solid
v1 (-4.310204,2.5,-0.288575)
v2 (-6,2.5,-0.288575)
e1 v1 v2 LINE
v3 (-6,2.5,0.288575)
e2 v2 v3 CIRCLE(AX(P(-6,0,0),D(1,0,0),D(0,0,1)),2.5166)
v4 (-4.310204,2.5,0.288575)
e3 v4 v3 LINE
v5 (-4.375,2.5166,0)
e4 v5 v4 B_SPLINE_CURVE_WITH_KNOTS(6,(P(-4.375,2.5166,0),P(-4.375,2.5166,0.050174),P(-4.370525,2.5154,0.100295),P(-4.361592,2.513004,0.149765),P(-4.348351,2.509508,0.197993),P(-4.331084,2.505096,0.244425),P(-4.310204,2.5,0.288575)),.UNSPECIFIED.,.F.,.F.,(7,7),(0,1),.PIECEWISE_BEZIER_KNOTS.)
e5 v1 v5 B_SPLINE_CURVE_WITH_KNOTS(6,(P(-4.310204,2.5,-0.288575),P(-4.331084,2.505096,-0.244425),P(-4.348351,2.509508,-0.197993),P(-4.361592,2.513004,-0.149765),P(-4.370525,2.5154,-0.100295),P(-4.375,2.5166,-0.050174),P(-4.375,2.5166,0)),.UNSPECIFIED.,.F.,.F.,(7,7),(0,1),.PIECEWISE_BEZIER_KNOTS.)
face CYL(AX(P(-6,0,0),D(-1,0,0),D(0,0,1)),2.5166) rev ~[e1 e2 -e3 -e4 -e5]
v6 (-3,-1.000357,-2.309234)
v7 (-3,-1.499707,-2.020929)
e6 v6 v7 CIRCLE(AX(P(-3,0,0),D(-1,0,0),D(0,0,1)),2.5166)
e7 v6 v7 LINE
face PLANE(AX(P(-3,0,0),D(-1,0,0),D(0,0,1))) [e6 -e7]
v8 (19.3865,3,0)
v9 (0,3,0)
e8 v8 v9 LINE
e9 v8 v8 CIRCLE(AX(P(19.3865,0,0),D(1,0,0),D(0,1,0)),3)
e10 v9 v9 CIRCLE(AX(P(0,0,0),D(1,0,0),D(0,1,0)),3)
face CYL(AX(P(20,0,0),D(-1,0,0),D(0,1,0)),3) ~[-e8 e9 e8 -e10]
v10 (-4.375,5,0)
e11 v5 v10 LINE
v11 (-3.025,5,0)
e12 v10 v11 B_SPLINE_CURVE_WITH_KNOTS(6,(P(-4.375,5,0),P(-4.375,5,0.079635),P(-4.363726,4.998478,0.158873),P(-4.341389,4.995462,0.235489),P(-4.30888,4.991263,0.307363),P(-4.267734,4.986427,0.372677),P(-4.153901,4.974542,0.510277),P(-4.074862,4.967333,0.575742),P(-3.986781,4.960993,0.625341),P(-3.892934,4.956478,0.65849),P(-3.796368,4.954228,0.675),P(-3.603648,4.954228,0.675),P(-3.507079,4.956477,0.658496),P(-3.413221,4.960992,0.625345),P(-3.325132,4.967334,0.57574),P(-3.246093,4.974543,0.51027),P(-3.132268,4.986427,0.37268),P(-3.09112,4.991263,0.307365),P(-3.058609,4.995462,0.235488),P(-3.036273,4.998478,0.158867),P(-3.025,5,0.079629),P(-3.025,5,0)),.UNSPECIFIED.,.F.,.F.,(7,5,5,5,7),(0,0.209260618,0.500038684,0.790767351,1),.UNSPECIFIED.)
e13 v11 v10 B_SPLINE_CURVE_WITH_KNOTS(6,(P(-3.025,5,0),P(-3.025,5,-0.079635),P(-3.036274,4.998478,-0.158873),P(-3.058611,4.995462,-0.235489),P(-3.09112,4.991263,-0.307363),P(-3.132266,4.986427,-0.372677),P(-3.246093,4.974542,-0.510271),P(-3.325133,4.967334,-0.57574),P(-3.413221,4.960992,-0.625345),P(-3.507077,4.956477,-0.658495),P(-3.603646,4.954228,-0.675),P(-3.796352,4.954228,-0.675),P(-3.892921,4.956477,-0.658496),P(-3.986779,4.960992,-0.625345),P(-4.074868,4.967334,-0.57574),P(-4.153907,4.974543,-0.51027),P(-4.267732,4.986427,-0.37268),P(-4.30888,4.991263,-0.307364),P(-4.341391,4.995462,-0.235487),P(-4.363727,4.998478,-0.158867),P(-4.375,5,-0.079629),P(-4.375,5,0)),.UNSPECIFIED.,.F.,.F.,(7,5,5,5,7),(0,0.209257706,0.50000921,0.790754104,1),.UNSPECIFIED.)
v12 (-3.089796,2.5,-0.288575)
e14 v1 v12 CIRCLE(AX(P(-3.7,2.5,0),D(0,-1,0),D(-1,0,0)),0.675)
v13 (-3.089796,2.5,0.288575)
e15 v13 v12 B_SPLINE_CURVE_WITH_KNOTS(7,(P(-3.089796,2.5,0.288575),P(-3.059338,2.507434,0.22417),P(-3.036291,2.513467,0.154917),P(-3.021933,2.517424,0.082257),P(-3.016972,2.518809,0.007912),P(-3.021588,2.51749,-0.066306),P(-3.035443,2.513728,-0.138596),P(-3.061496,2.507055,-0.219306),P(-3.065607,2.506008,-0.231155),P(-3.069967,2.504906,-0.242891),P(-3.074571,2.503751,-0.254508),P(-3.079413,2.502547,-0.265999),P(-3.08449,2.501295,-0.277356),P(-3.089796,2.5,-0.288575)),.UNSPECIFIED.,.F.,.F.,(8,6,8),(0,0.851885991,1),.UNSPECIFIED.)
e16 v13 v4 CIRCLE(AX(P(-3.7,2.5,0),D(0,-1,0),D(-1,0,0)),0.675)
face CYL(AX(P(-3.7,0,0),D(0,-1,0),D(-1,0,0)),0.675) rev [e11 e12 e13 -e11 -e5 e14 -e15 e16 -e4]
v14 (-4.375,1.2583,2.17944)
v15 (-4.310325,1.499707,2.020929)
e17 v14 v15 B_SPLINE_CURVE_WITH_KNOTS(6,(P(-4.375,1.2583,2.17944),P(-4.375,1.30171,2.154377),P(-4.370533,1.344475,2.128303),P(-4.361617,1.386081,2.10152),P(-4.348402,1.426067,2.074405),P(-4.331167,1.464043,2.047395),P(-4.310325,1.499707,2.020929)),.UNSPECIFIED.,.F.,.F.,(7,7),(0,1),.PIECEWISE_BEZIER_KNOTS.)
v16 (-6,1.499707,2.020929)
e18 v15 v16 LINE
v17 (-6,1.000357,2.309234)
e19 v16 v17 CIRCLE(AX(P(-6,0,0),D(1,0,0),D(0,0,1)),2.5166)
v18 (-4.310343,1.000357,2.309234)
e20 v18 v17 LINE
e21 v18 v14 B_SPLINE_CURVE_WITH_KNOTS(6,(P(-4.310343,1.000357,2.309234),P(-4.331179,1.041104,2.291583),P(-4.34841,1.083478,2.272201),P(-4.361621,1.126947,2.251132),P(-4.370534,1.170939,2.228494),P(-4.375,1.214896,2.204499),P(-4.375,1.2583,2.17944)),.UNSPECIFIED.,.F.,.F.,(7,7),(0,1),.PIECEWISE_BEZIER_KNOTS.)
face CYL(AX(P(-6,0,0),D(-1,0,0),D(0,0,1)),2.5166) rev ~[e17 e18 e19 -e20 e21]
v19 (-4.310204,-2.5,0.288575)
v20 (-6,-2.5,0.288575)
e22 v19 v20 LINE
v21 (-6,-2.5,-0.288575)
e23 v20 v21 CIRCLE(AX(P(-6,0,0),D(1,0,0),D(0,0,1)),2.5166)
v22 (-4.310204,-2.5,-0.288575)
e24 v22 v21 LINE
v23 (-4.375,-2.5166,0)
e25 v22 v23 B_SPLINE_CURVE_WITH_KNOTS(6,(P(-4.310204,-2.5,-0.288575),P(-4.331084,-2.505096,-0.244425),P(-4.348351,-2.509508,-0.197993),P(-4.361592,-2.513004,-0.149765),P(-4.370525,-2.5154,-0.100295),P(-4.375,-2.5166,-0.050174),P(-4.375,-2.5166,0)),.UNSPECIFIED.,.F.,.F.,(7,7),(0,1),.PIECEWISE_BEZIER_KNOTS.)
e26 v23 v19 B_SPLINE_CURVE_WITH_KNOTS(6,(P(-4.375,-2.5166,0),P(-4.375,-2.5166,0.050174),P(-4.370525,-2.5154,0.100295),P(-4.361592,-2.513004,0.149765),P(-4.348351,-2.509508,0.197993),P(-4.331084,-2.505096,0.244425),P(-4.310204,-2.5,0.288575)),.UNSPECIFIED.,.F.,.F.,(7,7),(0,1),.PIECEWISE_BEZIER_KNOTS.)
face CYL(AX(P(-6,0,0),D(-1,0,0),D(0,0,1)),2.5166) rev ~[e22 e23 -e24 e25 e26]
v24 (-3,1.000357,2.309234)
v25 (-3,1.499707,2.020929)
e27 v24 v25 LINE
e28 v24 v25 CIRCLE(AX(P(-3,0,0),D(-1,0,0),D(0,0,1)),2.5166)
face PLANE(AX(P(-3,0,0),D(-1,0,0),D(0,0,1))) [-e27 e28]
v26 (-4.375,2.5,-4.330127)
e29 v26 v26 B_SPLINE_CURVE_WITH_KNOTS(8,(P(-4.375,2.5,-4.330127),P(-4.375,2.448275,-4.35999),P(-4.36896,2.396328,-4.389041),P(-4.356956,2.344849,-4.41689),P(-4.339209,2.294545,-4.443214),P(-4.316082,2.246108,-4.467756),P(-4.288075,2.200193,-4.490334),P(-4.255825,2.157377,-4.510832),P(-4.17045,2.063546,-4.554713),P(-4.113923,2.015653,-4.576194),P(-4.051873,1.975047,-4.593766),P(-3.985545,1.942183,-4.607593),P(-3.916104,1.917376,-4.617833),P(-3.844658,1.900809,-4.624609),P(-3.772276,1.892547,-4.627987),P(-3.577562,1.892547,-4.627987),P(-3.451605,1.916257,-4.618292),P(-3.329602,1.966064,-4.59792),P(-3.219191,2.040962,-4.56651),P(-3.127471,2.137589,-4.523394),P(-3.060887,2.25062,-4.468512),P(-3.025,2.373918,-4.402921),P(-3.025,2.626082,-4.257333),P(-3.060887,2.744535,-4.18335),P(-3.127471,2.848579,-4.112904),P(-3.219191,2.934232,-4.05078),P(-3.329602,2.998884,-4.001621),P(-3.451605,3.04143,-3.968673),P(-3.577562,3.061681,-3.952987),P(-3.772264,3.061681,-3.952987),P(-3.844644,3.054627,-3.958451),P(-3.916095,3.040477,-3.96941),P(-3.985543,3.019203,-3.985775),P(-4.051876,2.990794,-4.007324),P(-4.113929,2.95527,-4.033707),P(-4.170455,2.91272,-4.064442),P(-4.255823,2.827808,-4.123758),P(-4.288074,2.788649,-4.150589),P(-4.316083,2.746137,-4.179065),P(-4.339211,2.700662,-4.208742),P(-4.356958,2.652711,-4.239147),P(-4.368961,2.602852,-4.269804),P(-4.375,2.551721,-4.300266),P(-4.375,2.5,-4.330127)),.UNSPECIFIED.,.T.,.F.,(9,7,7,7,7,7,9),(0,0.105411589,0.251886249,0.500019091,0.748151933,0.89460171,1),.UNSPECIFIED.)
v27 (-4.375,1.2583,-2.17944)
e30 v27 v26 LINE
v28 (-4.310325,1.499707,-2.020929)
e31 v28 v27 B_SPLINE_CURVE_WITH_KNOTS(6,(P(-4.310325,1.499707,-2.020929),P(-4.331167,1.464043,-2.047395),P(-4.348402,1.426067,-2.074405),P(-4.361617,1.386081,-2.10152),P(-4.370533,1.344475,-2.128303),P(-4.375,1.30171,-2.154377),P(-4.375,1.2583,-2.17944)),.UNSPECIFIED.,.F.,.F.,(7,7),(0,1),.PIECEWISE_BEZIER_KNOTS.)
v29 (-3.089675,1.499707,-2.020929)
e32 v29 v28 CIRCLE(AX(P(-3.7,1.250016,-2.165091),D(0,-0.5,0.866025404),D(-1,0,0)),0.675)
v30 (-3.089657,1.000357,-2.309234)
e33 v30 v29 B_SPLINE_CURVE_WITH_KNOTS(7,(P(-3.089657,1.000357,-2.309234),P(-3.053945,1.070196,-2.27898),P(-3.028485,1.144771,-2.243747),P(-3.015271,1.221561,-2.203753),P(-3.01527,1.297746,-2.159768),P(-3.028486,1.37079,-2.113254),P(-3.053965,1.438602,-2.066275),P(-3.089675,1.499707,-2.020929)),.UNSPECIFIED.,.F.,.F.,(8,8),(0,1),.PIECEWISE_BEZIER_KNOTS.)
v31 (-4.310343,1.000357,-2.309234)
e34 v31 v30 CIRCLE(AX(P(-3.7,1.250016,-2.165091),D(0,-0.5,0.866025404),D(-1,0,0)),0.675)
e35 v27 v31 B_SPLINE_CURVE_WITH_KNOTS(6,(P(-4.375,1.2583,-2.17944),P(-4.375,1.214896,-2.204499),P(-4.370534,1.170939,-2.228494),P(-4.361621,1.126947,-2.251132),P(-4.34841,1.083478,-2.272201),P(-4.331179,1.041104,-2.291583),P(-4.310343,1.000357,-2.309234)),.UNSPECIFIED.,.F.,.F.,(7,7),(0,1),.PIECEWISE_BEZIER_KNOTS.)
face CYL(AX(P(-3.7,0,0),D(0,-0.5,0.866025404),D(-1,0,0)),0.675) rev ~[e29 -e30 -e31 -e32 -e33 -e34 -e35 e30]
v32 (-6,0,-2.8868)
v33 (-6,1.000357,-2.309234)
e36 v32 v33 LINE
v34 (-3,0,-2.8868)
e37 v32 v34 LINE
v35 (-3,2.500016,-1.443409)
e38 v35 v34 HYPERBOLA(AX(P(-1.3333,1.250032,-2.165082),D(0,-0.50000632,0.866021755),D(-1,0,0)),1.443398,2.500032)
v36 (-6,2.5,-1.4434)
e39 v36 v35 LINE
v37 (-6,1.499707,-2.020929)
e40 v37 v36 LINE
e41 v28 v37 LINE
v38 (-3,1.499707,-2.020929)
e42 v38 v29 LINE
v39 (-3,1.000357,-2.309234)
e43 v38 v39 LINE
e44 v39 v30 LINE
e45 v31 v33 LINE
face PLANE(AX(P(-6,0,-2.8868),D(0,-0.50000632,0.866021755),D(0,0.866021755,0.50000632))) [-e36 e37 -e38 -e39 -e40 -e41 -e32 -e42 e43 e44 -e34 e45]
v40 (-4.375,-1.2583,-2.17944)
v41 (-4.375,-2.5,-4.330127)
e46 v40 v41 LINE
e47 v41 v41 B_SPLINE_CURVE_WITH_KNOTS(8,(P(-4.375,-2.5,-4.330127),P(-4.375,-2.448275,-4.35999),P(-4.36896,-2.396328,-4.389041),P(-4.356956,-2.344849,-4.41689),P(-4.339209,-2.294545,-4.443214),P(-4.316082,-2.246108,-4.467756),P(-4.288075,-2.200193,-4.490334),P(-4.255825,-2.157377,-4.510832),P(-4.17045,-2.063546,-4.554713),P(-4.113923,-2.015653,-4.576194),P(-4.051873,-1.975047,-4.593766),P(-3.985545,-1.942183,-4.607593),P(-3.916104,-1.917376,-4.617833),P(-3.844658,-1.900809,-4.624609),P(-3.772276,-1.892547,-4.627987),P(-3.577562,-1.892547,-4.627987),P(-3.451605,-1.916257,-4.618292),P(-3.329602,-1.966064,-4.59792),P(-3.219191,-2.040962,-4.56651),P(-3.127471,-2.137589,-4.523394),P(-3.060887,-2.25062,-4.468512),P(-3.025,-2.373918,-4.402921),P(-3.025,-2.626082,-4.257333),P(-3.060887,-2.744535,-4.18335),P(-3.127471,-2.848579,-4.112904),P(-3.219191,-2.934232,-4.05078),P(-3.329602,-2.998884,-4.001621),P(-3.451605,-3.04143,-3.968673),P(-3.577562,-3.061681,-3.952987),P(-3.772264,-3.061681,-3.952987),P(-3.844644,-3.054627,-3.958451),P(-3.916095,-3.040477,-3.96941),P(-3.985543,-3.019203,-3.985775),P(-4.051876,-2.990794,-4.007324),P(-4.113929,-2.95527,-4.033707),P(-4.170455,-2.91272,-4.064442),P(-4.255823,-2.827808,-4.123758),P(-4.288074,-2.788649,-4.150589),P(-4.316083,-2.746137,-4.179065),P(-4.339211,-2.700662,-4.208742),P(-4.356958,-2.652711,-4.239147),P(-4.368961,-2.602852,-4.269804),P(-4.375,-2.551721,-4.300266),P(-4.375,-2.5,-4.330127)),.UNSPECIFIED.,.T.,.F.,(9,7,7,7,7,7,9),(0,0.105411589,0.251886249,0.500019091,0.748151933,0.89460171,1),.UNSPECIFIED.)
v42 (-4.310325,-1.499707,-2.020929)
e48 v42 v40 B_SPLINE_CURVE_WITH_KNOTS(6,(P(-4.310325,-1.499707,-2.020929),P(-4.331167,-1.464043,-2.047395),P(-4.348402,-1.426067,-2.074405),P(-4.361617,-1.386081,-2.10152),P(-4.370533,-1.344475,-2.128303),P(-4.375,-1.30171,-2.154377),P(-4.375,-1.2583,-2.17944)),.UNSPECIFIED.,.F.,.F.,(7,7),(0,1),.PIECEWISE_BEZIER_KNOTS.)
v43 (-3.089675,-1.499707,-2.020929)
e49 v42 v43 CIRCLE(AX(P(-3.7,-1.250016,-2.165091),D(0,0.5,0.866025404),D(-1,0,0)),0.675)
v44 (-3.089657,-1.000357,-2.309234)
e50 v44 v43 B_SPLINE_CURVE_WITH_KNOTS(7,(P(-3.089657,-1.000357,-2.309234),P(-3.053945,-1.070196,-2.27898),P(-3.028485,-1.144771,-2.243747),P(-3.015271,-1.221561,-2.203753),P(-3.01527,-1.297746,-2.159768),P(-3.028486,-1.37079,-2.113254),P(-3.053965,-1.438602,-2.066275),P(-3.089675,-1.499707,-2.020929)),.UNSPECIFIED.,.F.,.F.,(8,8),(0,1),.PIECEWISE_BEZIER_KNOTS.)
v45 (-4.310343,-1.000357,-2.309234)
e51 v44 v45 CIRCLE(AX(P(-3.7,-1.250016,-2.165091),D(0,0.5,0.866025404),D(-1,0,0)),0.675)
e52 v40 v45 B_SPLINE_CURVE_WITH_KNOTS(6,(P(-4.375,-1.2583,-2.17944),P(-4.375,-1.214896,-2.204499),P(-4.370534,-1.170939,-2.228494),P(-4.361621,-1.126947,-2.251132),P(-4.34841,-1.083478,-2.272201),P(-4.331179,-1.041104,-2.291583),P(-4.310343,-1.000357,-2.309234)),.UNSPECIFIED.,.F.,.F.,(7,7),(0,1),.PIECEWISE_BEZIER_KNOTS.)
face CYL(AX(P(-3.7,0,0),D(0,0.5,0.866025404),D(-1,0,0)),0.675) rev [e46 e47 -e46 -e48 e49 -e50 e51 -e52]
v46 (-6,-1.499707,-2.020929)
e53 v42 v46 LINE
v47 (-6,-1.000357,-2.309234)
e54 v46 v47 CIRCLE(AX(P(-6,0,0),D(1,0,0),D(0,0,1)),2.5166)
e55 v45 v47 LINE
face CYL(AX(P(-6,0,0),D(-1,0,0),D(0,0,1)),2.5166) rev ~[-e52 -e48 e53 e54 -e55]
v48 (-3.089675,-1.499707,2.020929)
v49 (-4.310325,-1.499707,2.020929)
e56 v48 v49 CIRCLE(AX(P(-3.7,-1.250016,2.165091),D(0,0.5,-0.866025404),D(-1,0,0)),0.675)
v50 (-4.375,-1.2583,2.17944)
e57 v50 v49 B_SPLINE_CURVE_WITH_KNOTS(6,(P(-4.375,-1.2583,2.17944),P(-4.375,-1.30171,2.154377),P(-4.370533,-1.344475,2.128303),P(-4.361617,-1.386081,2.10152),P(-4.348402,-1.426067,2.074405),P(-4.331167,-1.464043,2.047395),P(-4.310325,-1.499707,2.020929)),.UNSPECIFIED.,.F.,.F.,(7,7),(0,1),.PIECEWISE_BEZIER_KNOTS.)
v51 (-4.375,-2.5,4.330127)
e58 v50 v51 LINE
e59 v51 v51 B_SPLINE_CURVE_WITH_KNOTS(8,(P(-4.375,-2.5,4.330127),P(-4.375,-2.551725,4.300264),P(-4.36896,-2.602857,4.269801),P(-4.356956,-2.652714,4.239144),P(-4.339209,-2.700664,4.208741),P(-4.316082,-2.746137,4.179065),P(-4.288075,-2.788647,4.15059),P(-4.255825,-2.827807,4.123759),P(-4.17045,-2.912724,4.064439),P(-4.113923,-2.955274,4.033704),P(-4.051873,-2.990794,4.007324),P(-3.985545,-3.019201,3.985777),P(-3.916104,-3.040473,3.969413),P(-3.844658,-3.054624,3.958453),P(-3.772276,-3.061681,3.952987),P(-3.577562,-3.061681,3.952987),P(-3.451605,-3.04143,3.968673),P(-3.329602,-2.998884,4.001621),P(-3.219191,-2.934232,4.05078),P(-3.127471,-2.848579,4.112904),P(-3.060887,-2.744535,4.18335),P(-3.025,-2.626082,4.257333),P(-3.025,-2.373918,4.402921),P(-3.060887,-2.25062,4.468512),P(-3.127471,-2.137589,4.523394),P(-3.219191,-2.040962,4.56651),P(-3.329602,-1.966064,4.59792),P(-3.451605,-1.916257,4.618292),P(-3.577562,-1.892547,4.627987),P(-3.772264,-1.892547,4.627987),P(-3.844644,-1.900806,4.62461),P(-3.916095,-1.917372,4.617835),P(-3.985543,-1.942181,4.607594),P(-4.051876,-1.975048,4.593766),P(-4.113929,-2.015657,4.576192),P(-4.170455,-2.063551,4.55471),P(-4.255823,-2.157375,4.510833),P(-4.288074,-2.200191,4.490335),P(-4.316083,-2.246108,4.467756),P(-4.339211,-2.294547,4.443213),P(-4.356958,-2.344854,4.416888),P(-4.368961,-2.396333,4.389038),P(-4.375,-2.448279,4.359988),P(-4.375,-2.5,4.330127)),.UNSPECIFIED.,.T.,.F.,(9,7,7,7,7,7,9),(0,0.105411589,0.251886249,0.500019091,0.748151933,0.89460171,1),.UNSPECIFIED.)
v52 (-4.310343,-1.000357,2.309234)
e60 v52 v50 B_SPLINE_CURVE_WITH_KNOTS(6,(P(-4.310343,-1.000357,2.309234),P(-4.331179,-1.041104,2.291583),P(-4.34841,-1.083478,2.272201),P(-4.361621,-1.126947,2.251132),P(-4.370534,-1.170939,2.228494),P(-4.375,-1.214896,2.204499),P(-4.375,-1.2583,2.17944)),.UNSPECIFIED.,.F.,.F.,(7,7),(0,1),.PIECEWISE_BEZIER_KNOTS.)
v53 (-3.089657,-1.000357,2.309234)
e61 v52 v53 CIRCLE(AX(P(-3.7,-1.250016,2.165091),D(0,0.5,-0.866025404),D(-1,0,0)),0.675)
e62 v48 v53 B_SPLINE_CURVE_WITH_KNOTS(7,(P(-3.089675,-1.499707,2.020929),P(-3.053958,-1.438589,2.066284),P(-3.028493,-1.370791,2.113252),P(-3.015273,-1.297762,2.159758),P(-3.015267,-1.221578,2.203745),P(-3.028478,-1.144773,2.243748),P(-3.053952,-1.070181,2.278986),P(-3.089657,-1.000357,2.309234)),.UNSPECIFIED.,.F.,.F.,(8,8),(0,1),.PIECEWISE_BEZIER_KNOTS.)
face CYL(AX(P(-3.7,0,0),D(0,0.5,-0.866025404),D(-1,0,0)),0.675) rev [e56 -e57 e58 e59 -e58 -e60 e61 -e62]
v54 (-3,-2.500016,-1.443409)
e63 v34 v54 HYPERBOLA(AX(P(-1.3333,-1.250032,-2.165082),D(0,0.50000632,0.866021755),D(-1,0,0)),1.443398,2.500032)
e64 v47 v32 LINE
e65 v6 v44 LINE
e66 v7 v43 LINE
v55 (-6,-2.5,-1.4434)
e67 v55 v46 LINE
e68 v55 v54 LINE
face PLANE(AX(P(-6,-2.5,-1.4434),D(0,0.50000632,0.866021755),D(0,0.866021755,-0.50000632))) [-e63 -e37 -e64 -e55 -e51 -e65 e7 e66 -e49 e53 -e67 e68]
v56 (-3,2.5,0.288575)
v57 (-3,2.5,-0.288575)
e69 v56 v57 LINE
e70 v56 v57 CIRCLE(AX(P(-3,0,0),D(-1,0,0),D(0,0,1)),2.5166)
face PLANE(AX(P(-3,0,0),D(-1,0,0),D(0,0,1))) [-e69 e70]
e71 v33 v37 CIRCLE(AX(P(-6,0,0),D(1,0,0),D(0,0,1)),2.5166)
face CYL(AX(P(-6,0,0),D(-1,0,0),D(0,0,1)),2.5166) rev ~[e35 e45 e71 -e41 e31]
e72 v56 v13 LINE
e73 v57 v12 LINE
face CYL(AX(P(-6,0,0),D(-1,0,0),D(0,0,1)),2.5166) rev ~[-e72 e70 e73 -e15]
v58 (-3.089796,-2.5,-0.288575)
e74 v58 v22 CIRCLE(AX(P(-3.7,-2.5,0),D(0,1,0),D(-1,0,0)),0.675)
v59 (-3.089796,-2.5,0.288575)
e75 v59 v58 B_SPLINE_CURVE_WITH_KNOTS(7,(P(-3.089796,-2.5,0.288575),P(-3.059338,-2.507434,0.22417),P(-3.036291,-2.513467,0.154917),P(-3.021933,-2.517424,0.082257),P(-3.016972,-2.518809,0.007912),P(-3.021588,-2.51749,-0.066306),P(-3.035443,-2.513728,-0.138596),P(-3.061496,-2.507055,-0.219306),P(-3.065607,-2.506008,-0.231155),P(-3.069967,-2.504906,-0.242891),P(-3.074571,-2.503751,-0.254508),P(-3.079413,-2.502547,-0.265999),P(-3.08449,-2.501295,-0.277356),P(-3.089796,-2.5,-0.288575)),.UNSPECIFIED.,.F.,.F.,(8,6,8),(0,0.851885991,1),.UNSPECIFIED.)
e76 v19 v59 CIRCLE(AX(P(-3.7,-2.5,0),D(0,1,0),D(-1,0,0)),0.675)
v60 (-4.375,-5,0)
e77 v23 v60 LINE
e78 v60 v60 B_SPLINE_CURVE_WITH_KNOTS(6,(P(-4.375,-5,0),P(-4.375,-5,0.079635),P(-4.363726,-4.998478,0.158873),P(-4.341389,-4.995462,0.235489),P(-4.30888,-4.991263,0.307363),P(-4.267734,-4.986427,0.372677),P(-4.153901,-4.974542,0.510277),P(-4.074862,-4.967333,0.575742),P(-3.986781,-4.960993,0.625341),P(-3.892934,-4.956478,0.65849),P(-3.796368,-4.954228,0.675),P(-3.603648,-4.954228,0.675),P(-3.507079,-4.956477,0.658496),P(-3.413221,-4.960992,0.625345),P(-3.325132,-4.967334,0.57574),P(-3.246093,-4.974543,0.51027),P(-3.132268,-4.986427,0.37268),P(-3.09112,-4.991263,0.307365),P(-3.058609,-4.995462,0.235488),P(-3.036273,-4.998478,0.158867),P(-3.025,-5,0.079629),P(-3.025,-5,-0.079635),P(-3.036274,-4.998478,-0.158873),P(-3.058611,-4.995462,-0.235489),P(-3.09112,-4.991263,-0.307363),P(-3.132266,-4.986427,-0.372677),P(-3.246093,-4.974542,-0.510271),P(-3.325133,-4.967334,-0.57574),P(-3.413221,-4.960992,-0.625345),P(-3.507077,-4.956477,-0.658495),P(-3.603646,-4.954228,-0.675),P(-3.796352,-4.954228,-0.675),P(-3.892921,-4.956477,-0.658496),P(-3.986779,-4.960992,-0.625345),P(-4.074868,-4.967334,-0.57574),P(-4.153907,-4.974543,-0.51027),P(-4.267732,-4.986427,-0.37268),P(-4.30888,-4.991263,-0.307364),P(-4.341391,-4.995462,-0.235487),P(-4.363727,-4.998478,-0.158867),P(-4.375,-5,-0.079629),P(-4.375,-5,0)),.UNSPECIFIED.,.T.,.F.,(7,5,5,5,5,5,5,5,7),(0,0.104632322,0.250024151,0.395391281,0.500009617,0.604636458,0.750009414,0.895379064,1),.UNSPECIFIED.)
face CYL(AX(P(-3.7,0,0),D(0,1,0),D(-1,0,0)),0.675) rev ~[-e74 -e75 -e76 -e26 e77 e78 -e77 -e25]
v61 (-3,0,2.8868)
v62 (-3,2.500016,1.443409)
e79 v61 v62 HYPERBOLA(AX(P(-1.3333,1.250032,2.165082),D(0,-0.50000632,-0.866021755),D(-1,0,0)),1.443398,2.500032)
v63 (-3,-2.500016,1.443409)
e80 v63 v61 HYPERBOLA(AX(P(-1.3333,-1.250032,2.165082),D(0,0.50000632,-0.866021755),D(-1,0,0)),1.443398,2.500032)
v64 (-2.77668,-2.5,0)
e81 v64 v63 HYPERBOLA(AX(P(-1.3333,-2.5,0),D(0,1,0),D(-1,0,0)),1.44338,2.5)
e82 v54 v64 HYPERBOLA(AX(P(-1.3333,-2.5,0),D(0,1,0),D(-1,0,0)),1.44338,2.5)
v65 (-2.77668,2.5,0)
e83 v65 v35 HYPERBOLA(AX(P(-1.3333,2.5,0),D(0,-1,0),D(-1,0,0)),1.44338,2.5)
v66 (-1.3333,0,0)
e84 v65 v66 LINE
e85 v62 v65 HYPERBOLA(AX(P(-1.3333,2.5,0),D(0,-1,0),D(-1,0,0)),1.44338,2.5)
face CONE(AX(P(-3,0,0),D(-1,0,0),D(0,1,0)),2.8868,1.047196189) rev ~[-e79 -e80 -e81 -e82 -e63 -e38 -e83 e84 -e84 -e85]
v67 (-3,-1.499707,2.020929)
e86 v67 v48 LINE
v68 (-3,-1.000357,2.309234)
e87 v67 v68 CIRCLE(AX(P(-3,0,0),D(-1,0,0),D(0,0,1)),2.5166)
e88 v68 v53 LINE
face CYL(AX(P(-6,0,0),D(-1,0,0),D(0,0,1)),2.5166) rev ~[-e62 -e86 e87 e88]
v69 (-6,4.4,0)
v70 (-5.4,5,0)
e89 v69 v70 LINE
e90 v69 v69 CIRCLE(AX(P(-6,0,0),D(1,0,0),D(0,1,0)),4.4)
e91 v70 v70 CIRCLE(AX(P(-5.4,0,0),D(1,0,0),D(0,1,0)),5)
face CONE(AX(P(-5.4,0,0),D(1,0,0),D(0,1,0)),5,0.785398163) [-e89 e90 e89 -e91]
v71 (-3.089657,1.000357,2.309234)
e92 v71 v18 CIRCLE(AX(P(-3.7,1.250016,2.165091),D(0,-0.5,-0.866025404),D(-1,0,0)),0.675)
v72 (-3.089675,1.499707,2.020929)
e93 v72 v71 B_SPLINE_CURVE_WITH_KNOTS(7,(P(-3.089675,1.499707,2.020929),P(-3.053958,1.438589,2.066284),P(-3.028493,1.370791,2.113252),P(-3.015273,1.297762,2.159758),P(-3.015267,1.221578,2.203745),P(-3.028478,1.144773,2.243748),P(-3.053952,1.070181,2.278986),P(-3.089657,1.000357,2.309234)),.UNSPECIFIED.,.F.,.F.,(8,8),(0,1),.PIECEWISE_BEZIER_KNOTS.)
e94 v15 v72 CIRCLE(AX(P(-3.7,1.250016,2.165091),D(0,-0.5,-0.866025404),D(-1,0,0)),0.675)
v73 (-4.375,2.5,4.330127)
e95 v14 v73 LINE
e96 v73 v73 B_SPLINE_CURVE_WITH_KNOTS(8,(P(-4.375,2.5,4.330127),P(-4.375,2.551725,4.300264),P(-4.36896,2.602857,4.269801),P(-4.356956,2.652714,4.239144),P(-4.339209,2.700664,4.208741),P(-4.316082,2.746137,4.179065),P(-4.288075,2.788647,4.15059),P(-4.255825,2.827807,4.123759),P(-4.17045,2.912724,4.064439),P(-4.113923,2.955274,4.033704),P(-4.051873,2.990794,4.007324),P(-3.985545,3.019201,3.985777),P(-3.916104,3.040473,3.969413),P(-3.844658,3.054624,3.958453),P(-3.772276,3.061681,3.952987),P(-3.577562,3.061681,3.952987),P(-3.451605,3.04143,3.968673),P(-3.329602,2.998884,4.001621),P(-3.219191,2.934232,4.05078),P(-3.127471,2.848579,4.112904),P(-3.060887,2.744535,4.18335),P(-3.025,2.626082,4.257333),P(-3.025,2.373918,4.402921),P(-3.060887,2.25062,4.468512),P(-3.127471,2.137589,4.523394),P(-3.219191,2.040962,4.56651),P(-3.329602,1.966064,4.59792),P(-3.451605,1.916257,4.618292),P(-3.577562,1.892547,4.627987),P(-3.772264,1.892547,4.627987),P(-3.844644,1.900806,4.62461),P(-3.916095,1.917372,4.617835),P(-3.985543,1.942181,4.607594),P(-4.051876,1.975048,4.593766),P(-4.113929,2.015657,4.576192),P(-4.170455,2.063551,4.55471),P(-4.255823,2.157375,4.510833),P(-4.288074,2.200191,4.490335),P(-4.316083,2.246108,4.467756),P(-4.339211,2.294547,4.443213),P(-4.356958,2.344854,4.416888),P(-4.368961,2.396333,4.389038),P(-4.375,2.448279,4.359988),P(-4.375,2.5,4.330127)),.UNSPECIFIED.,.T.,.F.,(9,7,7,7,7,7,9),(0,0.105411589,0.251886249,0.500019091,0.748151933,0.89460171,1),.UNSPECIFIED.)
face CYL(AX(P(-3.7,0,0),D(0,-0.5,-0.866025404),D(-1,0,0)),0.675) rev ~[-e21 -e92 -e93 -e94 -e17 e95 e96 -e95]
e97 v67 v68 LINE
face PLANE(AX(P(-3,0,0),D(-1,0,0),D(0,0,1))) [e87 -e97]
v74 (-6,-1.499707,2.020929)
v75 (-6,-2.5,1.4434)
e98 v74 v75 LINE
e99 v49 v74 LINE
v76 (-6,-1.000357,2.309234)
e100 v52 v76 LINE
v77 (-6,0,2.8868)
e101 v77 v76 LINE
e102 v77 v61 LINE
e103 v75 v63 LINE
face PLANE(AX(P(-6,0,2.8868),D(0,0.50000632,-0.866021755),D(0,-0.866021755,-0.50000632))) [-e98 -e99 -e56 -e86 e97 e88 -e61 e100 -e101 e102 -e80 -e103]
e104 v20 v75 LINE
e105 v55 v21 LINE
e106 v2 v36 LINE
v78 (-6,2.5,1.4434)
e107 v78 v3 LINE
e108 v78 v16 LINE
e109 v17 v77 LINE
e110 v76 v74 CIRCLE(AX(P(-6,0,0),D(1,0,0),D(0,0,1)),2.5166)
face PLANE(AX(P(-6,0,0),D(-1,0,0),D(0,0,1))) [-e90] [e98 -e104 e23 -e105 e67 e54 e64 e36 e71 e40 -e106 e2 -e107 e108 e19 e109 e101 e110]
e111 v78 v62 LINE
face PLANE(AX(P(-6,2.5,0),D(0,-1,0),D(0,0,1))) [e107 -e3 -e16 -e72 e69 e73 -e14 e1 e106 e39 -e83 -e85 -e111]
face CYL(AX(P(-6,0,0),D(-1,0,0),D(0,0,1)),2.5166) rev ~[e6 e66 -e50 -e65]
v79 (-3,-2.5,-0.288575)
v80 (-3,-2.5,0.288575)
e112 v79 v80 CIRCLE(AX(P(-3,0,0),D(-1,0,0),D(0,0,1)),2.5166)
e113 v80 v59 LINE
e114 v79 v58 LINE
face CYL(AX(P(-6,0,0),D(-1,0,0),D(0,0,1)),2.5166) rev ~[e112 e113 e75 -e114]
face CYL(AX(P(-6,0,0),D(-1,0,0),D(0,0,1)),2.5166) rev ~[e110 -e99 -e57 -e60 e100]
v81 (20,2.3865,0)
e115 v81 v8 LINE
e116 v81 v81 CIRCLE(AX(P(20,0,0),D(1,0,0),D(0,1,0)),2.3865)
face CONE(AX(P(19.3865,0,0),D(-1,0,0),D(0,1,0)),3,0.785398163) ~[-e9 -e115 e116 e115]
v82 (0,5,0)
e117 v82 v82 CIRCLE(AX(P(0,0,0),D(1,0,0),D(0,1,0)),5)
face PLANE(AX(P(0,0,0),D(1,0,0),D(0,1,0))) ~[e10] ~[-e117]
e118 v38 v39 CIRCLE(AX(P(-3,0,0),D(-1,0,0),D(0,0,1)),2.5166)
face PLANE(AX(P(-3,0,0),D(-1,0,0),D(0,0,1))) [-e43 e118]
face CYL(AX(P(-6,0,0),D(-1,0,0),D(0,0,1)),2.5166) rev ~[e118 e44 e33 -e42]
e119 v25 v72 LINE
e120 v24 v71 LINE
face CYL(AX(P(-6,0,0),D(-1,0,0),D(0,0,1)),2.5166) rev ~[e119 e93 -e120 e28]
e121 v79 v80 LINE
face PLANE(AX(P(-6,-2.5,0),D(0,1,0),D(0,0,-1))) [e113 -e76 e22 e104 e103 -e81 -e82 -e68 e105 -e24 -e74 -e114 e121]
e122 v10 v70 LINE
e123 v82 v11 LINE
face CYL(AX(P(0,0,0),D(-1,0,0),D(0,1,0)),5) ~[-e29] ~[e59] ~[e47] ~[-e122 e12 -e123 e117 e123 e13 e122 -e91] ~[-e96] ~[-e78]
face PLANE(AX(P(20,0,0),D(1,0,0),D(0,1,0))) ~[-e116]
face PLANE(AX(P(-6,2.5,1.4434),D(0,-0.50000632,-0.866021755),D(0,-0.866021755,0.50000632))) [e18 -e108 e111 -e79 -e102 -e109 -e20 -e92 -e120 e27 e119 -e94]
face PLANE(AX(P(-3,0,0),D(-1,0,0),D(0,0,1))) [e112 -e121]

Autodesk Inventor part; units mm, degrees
ref_plane "YZ Plane" through (0, 0, 0) normal (1, 0, 0) x (0, 1, 0)
ref_plane "XZ Plane" through (0, 0, 0) normal (0, 1, 0) x (-1, 0, 0)
sketch "Sketch1" plane through (0, 0, 0) normal (0, 0, 1) x (1, 0, 0)
  line L0 (-1.3333, 0) -> (20, 0)
  line L1 (20, 0) -> (20, 3)
  line L2 (20, 3) -> (0, 3)
  line L3 (0, 3) -> (0, 5)
  line L4 (0, 5) -> (-6, 5)
  line L5 (-6, 5) -> (-6, 2.8868)
  line L6 (-6, 2.8868) -> (-3, 2.8868)
  line L7 (-3, 2.8868) -> (-1.3333, 0)
  line L8 (-11.2, 0) -> (25.2, 0) projected
  line L9 (0, -1) -> (0, 6) projected
  dimension "d3" = 6
  dimension "d4" = 3
  dimension "d5" = 60
  dimension "d6" = 6
  dimension "d8" = 5.7735
  dimension "d9" = 10
  dimension "d31" = 20
revolve "Body" add sketch "Sketch1" angle 360 about axis through (-1.3333, 0, 0) along (1, 0, 0)
sketch "Sketch2" plane through (-6, 0, 0) normal (-1, 0, 0) x (0, 0, 1)
  circle A0 centre (0, 0) radius 2.8868 projected
  line L0 (0, -7) -> (0, 7) projected
  line L1 (-7, 0) -> (7, 0) projected
  line L2 (2.8868, 0) -> (1.4434, -2.5)
  line L3 (1.4434, -2.5) -> (-1.4434, -2.5)
  line L4 (-1.4434, -2.5) -> (-2.8868, 0)
  line L5 (-2.8868, 0) -> (-1.4434, 2.5)
  line L6 (-1.4434, 2.5) -> (1.4434, 2.5)
  line L7 (1.4434, 2.5) -> (2.8868, 0)
extrude "Slot" add sketch "Sketch2" against normal up to next contours L7 A0 | A0 L2 | L6 L0 A0 | A0 L0 L3 | L0 L6 A0 | A0 L3 L0 | L4 A0 | A0 L5
sketch "Sketch3" plane through (-6, 0, 0) normal (-1, 0, 0) x (0, 0, 1)
  circle A0 centre (0, 0) radius 5 projected
  line L0 (-1.4434, 2.5) -> (1.4434, 2.5) projected
  circle A1 centre (0, 0) radius 2.5166
  point P0 (-0.2887, 2.5)
  point P1 (0.2887, 2.5)
  dimension "d23" = 0.5774
extrude "Overcut" cut sketch "Sketch3" against normal blind 3 contours A1 L0 | L0 A1
sketch "Sketch4" plane through (0, 0, 0) normal (0, 1, 0) x (-1, 0, 0)
  line L0 (0, 5) -> (0, -5) projected
  line L1 (7.2, 0) -> (-1.2, 0) projected
  circle A0 centre (3.7, 0) radius 0.675
  line L2 (6, 5) -> (6, -5) projected
  point P0 (0, 0)
  dimension "d13" = 1.35
  dimension "d14" = 2.3
extrude "Hole" cut sketch "Sketch4" along normal through all both and the other way through all
pattern_circular "Holes" count 3 over 360 about axis through (10, 0, 0) along (1, 0, 0) of "Hole"
chamfer "Chamfer1" distance 0.6 angle 45 1 edges at (-6, -5, 0) measured on face at (-3.2045, -4.6671, -1.794)
thread "Thread" size "M6x1" class "6g" standard "ISO Metric profile" length 18.7731
chamfer "Chamfer2" distance 0.6135 distance2 0.6135 1 edges at (20, -3, 0) measured on face at (20, 1.0659, 1.0214)
ref_plane "Work Plane1" through (10, 0, 0) normal (0, 0.5, 0.866) x (1, 0, 0)
equation "\"d3\" = KOH"
equation "\"d4\" = STI"
equation "\"d6\" = GD"
equation "\"d8\" = 1.1547 * SW"
equation "\"d9\" = KOD"
equation "\"d31\" = NLG"
equation "\"d23\" = 0.11547 * SW"
equation "\"d24\" = STI"
equation "\"d13\" = BOR"
equation "\"d14\" = DIST"
equation "\"d17\" = PHH"
equation "\"d32\" = PHH"
equation "\"d19\" = GEL"
equation "\"d21\" = -0.5 * SPD + 0.5 * GD"
equation "\"d22\" = GUL"
equation "\"GD\" = NND"
equation "\"NLG\" = 20"
equation "\"GEL\" = 18.7731"
equation "\"KOD\" = 10"
equation "\"KOH\" = 6"
equation "\"GUL\" = 0.61345 * PTC"
equation "\"SW\" = 5"
equation "\"STI\" = 3"
equation "\"DIST\" = 2.3"
equation "\"BOR\" = 1.35"
equation "\"PHH\" = 0.6"
equation "\"SPD\" = 4.7731"
equation "\"PTC\" = 1"
equation "\"THREADDIA\" = 6"
equation "\"TOA\" = 30deg"
equation "\"BDM\" = NND"
equation "\"NND\" = 6"
equation "\"E0\" = 1.155 * SW"
equation "\"GAL\" = 0.61345 * PTC"
equation "\"GD1\" = THREADDIA - 1.2269 * PTC"
properties part number "ANSI B18.3.1M - M6x1 x 20" material "Steel, Mild"
